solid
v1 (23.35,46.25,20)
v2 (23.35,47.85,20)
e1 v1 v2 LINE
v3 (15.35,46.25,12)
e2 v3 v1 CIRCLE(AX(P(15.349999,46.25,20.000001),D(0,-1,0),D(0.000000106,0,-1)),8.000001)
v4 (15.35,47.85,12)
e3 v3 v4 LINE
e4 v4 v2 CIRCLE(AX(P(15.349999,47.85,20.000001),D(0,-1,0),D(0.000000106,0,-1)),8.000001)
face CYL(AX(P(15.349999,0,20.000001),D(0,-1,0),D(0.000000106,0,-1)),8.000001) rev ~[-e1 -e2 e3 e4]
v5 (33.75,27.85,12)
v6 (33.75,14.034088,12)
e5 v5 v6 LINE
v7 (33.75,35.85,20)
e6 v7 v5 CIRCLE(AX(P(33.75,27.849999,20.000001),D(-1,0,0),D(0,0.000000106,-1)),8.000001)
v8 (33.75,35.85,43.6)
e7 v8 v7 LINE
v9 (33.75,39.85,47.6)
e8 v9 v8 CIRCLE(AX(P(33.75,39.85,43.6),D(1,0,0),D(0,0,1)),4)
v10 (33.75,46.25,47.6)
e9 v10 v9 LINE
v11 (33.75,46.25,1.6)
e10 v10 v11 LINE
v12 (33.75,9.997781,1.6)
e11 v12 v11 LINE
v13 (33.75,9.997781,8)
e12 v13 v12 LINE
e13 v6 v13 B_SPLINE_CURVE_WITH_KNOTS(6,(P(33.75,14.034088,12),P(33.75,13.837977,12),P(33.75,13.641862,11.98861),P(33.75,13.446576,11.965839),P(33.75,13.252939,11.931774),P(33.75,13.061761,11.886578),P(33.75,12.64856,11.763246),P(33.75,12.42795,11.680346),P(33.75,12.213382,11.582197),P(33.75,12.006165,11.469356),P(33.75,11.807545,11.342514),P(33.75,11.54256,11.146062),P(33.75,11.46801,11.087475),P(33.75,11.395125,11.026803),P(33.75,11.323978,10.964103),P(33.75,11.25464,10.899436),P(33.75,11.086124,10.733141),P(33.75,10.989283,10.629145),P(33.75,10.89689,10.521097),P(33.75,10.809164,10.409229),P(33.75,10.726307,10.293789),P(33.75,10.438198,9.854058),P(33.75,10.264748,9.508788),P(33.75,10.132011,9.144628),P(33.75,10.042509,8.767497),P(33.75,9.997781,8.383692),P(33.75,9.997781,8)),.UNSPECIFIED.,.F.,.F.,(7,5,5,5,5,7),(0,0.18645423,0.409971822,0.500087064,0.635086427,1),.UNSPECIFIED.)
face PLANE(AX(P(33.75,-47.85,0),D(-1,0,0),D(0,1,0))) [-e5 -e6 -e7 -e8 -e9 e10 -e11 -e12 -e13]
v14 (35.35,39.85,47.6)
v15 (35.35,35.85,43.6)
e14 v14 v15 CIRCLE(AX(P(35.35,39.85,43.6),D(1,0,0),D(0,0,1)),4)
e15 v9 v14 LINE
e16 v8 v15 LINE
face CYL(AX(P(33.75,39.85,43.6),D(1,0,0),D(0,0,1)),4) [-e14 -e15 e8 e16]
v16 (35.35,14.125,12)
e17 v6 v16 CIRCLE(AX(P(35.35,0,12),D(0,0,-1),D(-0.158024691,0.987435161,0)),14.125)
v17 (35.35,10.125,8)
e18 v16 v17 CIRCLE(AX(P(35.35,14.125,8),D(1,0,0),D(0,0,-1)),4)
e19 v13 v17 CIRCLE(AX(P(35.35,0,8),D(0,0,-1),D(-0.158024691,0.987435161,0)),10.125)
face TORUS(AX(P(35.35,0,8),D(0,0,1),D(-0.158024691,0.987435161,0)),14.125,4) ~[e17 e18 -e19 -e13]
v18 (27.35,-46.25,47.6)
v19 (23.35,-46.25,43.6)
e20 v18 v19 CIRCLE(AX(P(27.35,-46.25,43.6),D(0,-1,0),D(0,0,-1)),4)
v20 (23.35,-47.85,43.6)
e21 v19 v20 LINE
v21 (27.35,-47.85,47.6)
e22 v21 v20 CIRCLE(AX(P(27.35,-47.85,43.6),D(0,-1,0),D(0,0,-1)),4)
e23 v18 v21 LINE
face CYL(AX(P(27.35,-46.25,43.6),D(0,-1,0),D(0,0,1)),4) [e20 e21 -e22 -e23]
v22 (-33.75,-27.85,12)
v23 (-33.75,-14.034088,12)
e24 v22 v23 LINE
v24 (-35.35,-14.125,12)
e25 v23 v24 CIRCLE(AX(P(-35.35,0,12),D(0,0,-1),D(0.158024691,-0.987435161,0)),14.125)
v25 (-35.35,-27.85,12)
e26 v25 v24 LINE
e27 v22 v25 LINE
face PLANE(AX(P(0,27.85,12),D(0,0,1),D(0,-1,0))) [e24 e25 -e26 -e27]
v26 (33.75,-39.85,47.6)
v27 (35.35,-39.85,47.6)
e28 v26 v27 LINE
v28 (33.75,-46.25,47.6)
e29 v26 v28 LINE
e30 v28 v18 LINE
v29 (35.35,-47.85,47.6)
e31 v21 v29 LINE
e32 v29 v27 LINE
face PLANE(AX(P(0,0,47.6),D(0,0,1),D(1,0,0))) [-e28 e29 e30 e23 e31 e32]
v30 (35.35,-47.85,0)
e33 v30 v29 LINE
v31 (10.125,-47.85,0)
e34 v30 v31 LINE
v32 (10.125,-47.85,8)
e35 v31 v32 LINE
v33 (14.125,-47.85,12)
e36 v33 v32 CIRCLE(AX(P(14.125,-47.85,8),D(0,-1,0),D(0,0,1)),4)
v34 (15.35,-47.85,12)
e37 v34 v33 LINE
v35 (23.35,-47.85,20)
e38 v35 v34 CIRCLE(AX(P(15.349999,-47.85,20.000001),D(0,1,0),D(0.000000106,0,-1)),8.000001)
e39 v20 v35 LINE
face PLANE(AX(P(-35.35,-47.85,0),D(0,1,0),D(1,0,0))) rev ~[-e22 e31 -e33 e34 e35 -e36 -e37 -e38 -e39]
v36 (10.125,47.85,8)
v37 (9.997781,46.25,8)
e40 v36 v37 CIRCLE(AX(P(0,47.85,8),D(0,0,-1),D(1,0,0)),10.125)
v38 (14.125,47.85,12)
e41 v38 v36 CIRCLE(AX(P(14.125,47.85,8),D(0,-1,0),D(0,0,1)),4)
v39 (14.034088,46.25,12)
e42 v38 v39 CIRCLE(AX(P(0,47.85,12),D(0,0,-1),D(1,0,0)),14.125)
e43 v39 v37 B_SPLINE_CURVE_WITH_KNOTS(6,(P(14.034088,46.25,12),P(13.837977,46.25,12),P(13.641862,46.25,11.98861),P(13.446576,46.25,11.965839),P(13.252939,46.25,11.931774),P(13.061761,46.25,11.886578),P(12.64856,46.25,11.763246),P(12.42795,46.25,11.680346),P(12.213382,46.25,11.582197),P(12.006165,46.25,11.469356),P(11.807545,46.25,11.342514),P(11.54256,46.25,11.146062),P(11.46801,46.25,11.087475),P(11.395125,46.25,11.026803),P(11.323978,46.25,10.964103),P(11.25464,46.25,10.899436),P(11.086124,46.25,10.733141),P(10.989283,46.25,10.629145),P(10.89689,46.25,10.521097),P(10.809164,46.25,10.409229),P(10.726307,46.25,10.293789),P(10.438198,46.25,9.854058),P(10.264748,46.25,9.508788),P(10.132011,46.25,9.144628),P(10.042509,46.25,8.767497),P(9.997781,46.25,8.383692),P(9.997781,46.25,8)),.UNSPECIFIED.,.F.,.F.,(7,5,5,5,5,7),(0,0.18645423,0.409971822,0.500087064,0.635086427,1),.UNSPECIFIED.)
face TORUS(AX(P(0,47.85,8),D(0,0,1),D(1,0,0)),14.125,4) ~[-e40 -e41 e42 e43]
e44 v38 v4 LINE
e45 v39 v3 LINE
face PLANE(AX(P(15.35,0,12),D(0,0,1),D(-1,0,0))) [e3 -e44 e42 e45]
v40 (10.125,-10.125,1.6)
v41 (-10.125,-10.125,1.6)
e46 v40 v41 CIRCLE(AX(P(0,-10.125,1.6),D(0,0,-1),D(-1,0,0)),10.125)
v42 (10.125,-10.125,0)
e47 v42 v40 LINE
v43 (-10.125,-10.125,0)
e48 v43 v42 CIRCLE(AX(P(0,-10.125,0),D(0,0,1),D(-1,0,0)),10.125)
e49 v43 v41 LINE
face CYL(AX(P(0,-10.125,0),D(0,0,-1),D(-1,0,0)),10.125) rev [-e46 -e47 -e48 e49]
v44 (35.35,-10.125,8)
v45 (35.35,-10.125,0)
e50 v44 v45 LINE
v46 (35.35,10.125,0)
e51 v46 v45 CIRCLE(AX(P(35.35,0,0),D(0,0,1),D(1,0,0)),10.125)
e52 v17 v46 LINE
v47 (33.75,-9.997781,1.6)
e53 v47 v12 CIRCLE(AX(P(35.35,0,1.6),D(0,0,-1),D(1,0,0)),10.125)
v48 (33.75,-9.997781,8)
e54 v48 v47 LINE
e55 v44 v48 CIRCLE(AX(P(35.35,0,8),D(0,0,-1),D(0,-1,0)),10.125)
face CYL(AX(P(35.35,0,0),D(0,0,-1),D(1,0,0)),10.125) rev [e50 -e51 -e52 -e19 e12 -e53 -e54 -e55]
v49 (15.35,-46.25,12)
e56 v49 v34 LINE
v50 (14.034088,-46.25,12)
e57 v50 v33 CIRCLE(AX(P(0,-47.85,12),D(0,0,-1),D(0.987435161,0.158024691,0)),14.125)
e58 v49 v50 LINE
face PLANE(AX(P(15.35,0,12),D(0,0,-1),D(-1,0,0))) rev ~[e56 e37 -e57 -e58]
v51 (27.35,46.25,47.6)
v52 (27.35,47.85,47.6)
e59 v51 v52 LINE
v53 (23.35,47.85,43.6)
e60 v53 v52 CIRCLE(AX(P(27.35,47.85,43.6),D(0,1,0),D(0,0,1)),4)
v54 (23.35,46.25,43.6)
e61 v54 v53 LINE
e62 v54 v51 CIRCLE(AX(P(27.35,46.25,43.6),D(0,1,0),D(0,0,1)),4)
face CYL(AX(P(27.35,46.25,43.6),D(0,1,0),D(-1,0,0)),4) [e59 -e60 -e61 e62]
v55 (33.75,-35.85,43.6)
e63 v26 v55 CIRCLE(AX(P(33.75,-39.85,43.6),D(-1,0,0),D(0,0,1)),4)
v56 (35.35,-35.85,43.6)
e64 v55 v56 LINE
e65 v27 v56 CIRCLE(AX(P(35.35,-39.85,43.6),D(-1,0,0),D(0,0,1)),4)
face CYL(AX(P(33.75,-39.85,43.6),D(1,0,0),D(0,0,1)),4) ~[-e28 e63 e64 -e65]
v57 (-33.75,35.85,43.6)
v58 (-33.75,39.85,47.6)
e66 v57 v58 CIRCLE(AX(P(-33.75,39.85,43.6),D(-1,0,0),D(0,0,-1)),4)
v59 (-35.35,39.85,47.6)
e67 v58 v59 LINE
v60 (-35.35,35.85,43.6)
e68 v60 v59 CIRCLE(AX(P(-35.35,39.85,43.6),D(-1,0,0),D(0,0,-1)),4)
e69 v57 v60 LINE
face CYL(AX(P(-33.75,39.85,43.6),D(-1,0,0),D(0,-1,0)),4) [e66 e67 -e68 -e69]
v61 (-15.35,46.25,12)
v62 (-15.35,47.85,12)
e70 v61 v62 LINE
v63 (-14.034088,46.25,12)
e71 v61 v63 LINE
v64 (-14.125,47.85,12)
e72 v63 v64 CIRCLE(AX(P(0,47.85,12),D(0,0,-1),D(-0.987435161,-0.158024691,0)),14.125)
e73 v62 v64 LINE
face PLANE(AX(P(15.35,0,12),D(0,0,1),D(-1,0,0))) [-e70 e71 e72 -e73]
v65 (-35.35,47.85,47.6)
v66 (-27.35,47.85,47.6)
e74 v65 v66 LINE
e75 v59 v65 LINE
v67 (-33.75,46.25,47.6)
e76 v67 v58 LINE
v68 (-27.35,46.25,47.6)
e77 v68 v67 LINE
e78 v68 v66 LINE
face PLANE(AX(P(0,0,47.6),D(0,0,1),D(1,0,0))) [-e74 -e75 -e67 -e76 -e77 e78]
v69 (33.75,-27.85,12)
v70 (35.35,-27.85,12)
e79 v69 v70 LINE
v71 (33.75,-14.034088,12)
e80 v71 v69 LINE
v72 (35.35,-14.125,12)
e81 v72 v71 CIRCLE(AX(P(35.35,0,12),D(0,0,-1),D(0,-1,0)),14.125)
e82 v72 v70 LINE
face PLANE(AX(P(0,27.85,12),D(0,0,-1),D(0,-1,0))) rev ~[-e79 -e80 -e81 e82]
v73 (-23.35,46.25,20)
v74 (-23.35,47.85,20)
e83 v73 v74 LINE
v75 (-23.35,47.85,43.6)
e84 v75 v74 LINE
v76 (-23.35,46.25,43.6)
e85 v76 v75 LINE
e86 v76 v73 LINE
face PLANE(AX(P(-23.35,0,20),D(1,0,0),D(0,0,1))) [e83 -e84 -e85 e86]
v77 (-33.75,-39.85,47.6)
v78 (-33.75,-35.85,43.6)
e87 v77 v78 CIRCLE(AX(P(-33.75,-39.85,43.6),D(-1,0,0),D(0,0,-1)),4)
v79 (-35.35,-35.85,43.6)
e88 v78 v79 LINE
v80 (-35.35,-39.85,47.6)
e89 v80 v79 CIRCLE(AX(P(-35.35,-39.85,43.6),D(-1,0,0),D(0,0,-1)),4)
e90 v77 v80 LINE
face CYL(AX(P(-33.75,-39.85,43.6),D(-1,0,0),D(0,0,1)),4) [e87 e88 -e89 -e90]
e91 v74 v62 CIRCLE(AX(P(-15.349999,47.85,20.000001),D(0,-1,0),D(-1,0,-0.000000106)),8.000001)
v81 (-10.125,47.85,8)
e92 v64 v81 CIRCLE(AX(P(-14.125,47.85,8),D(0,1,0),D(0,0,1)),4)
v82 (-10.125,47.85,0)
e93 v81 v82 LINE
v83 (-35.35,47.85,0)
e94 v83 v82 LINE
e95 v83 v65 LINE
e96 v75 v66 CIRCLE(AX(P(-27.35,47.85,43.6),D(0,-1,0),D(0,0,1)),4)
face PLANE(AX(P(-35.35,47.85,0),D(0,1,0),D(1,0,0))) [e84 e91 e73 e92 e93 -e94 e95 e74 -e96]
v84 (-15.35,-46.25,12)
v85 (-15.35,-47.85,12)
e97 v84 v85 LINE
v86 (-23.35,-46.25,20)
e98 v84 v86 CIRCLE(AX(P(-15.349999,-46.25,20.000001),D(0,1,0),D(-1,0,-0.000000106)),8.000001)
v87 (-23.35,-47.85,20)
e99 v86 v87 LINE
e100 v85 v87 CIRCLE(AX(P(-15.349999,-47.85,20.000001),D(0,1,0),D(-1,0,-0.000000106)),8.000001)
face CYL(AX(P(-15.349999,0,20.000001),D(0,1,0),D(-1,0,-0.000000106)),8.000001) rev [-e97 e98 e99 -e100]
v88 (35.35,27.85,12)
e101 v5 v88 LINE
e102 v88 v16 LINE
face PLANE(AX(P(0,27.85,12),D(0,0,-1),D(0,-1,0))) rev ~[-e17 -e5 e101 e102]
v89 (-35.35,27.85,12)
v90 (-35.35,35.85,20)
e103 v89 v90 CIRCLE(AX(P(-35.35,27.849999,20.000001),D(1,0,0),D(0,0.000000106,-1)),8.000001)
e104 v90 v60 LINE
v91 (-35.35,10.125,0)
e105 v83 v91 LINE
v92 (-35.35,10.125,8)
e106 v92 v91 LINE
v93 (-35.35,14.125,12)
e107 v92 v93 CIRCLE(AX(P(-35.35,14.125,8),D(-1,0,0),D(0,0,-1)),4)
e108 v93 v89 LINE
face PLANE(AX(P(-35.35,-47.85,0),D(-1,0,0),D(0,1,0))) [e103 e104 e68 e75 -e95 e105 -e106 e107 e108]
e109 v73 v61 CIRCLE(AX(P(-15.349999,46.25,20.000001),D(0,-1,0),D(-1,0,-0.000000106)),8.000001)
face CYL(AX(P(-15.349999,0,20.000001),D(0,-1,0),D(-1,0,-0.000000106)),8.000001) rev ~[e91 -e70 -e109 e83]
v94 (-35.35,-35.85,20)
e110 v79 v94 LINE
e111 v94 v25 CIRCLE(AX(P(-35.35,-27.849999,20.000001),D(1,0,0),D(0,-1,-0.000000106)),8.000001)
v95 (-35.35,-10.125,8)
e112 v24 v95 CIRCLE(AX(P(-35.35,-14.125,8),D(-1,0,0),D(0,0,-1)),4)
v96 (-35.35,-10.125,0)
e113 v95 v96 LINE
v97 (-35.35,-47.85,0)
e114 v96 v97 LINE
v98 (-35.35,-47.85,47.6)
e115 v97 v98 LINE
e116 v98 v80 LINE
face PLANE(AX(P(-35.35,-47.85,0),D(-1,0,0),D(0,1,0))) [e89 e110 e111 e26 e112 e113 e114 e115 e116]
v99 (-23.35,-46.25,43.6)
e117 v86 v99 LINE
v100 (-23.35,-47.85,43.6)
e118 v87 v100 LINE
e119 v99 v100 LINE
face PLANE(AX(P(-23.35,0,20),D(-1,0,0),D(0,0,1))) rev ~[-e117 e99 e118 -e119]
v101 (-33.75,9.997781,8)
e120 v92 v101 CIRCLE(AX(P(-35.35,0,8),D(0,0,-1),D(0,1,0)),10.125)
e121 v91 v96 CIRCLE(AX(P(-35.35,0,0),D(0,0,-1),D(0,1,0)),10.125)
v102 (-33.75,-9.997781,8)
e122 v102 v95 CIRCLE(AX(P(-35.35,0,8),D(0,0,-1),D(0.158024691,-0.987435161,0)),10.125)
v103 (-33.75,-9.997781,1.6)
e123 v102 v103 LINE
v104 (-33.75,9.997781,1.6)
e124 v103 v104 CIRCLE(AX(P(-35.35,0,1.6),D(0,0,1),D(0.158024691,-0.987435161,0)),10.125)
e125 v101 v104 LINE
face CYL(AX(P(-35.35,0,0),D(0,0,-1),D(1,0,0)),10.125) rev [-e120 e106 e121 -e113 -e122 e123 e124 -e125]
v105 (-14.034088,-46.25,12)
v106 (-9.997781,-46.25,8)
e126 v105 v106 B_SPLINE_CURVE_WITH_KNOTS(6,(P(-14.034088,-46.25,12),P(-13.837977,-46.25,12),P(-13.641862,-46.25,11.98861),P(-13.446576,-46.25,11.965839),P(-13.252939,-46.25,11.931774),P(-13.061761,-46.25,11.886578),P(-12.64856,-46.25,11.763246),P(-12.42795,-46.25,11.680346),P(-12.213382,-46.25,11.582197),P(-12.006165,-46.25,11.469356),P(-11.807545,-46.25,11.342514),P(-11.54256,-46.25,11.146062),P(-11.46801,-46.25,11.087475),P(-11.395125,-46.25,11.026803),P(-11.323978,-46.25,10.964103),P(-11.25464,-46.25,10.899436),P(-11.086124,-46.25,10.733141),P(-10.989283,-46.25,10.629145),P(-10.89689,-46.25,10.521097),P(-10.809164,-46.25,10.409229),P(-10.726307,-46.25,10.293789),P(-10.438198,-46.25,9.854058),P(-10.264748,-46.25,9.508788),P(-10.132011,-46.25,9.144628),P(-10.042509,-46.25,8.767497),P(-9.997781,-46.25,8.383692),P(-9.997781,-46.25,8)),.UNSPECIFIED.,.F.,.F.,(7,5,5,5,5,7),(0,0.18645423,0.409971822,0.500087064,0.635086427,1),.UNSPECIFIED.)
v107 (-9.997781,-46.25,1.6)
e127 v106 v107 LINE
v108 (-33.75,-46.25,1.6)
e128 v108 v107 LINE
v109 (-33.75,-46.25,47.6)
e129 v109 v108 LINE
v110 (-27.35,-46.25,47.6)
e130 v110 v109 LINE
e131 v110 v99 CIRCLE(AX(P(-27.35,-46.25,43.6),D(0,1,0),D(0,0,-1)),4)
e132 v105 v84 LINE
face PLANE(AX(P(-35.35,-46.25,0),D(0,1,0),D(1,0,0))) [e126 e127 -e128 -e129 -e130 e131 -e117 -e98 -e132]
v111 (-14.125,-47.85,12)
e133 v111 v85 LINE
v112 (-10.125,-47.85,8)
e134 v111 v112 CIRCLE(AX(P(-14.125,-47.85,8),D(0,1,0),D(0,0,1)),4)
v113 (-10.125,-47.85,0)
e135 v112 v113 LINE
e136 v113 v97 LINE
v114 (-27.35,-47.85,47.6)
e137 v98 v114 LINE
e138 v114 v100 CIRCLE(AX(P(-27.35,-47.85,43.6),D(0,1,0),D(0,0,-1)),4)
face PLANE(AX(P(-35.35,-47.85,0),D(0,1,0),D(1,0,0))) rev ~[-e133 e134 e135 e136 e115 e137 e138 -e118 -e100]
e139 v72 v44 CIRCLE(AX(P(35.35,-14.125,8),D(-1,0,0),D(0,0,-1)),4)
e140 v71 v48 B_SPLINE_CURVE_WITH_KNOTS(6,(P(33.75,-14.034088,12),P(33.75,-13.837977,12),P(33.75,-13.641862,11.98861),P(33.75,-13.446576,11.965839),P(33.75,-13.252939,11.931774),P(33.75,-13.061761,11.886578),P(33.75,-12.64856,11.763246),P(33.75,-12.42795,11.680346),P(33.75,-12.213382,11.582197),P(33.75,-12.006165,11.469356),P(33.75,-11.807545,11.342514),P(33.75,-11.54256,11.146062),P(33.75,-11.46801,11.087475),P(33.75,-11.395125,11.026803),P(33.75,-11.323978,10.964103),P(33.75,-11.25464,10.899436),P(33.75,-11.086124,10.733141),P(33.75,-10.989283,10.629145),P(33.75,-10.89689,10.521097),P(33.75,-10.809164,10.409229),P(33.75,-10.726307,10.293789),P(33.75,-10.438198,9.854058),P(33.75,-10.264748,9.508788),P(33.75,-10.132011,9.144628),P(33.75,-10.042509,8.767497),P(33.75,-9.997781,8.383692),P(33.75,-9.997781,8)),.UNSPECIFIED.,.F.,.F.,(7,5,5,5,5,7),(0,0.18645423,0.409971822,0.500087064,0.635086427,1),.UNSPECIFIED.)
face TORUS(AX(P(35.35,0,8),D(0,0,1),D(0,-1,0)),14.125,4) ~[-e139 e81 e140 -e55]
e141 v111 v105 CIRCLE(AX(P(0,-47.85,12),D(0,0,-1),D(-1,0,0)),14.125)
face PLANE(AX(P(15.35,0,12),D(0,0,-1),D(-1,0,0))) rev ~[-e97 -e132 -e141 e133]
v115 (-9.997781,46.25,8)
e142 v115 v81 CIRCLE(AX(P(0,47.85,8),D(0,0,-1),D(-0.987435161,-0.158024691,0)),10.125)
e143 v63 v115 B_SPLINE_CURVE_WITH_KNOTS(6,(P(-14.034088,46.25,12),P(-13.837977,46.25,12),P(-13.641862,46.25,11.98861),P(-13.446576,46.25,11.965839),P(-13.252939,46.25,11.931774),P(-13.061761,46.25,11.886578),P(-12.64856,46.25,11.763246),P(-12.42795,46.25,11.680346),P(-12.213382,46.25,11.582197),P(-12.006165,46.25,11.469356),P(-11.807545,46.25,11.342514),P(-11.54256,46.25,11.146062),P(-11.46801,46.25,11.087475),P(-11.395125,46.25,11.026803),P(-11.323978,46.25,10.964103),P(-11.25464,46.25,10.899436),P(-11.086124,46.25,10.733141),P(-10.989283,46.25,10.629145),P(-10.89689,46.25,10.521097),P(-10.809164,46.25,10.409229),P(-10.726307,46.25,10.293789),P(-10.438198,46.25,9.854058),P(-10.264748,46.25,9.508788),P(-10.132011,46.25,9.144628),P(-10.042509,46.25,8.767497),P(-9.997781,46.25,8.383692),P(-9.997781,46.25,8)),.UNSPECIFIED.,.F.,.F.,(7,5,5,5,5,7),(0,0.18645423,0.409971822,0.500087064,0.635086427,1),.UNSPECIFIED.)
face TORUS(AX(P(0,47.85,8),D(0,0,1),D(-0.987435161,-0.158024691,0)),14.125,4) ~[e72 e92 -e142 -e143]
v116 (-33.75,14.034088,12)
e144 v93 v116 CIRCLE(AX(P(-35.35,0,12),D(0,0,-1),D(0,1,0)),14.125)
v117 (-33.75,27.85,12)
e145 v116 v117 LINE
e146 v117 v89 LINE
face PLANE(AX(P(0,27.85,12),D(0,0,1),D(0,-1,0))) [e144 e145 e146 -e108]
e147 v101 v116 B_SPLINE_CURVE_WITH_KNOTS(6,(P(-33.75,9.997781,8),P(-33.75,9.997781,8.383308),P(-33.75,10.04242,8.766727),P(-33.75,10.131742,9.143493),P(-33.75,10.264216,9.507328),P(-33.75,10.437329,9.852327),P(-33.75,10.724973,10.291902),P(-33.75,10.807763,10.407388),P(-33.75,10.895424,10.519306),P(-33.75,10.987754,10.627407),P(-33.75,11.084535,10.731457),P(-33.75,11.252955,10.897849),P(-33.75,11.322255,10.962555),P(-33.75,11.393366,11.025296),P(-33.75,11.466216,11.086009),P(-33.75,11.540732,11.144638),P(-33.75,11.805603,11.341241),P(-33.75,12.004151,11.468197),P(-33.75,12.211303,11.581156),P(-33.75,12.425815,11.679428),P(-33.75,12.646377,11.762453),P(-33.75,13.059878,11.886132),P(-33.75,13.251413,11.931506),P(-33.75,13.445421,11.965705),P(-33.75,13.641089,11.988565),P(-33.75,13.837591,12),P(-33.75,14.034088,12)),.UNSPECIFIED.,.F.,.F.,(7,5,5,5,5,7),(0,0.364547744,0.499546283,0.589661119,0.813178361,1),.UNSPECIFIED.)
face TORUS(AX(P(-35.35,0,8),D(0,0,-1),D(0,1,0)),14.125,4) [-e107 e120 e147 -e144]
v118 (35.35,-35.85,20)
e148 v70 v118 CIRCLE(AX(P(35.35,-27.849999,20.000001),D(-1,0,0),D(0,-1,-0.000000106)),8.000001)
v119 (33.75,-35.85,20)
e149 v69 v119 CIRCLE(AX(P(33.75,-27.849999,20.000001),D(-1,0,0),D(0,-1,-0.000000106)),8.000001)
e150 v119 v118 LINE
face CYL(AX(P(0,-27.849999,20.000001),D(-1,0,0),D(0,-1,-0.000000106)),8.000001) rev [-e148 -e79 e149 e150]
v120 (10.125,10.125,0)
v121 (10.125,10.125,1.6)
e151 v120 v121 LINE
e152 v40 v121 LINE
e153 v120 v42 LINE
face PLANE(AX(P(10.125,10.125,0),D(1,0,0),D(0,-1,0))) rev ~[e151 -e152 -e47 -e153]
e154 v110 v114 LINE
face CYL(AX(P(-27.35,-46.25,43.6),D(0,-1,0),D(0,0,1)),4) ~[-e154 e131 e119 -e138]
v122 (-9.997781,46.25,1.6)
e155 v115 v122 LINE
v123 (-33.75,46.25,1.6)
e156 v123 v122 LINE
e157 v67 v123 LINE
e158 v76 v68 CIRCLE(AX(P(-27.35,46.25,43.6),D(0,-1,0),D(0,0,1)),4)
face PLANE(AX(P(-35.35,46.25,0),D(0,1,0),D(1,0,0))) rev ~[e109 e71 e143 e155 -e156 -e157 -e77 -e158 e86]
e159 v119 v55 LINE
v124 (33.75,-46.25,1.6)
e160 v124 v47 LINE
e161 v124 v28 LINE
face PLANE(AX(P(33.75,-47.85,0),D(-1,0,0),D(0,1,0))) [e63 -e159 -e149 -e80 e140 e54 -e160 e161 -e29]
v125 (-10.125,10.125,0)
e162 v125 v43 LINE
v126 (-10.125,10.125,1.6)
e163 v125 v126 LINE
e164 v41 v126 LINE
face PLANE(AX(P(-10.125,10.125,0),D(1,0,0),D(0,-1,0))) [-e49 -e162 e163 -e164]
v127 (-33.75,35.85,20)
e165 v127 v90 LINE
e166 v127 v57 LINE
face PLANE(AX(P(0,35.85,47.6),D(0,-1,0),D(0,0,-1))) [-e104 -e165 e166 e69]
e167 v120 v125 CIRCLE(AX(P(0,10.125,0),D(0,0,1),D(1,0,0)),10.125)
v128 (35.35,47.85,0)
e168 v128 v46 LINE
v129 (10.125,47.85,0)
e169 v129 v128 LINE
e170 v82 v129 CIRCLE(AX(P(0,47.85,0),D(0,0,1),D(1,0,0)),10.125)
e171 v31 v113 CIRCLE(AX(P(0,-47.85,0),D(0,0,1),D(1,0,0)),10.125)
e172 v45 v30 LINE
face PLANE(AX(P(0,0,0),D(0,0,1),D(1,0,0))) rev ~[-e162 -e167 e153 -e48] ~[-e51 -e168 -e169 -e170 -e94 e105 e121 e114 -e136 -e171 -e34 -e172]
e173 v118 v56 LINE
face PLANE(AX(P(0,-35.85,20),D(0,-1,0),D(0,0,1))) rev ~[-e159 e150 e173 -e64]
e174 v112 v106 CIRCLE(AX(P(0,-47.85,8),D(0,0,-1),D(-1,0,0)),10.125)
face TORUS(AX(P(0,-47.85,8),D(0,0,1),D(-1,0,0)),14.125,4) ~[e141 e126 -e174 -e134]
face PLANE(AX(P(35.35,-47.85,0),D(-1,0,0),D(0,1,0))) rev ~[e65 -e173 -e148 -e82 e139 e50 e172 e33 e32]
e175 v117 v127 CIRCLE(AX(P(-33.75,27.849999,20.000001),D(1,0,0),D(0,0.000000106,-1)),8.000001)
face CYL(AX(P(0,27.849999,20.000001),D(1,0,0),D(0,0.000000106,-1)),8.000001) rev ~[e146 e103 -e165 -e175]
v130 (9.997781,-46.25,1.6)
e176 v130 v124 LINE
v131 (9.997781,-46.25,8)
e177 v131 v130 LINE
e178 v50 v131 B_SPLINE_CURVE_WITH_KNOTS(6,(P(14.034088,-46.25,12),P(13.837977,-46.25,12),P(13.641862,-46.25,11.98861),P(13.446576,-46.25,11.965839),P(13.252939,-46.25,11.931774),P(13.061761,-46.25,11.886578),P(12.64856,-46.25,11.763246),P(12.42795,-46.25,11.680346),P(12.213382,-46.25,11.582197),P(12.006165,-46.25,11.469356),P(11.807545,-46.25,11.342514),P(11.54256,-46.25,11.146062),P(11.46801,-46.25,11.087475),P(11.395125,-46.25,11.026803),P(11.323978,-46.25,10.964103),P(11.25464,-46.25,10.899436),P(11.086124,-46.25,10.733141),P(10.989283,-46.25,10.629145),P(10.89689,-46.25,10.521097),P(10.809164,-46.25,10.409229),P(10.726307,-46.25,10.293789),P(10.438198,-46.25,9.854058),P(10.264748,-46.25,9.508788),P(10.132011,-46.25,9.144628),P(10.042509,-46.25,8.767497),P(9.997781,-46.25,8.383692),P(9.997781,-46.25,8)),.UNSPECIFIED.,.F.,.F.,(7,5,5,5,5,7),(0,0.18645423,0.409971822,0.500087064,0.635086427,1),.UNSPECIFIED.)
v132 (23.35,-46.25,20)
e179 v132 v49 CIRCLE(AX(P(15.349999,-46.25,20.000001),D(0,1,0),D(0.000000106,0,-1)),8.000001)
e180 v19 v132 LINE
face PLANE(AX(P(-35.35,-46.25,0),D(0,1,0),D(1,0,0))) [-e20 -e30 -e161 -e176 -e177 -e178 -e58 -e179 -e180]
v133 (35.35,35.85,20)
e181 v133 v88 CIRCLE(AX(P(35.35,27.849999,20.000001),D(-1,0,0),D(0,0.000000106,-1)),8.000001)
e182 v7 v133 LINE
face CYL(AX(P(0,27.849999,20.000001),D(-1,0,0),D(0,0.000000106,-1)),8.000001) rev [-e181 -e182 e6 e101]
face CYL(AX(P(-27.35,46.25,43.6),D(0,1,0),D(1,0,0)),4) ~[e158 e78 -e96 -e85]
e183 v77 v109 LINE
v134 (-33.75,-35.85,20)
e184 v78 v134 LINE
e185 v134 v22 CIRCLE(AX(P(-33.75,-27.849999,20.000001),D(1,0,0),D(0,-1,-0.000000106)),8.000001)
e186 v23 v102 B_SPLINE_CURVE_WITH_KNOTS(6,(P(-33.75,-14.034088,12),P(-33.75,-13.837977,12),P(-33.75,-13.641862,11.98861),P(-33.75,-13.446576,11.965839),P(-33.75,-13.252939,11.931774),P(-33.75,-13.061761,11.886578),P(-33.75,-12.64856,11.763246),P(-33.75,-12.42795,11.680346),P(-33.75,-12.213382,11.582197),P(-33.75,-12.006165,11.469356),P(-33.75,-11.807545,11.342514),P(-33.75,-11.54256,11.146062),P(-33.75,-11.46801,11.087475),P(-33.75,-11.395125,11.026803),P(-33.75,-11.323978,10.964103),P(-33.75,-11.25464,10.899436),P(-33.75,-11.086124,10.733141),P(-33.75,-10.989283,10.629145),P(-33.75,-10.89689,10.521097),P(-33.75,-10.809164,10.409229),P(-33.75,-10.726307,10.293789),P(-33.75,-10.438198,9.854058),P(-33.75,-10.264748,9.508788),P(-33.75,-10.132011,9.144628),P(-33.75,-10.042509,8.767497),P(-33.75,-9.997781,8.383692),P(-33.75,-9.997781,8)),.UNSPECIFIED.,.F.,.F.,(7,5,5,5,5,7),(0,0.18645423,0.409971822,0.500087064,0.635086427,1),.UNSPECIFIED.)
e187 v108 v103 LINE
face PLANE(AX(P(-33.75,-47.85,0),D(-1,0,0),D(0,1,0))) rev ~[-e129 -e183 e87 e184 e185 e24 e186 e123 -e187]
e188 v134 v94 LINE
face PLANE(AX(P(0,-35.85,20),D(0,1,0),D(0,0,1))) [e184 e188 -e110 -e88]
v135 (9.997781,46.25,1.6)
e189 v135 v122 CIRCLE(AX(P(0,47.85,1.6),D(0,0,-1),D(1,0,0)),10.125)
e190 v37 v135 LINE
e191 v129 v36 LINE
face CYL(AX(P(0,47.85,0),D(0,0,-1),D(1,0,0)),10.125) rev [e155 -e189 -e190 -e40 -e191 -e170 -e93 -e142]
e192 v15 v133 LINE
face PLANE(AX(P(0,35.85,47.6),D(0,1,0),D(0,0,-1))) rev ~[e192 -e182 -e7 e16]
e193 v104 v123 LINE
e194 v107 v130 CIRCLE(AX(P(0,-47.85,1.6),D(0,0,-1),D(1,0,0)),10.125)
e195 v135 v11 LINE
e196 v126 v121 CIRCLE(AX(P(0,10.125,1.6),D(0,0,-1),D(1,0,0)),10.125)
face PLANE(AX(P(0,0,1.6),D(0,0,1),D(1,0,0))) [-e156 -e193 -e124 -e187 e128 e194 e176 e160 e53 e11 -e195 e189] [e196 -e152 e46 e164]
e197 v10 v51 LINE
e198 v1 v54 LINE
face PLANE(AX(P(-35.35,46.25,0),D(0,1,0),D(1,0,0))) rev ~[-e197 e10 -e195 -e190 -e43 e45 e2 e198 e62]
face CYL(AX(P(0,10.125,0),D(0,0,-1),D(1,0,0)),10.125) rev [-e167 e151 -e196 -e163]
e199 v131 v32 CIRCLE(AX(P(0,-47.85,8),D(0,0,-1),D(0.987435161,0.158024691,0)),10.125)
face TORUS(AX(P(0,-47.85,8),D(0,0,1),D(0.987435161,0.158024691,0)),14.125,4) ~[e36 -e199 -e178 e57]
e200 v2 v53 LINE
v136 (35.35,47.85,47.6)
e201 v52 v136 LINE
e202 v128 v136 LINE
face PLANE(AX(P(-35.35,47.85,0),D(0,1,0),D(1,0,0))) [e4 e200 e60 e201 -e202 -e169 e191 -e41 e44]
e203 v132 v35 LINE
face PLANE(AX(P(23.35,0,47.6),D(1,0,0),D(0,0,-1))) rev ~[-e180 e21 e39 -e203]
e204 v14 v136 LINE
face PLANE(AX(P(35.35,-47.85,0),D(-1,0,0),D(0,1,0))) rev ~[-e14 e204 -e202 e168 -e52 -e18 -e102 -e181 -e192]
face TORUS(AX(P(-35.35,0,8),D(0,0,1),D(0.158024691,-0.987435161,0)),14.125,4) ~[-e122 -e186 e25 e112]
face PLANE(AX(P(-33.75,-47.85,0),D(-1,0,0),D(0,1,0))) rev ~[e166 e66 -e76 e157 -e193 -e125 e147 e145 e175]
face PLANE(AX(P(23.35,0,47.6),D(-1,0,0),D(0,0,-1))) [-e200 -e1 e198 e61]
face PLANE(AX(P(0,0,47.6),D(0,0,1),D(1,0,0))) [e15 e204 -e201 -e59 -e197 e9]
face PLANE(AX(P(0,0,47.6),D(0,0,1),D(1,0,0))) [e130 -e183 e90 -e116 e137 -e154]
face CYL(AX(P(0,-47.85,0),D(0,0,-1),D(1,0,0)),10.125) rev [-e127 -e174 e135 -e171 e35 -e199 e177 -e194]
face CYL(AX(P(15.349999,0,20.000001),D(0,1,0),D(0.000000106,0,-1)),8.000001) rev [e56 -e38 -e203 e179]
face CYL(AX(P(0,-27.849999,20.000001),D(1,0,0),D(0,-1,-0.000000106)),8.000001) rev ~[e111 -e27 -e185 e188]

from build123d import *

# Parameters (mm, degrees)
SKETCH001_W          = 70.7
SKETCH001_H          = 95.7
PAD001_DEPTH         = 47.6
THICKNESS001_T       = -1.6
POCKET_DEPTH         = 47.851
POCKET_DEPTH_BACK    = 47.851
POCKET001_DEPTH      = 35.351
POCKET001_DEPTH_BACK = 35.351
SKETCH004_R          = 10.125
POCKET002_DEPTH      = 0.001
POCKET002_DEPTH_BACK = 47.601
FILLET_R             = 4


with BuildPart() as part:
    # Sketch001 → Pad001 (new body)
    with BuildSketch(Plane.XY):
        Rectangle(SKETCH001_W, SKETCH001_H)
    extrude(amount=PAD001_DEPTH)

    # Thickness001
    thickness001_openings = [part.faces().sort_by_distance(p)[0] for p in [
        (0, 0, 47.6),
    ]]
    offset(amount=THICKNESS001_T, openings=thickness001_openings, kind=Kind.INTERSECTION)

    # Sketch002 → Pocket (cut, two sides)
    with BuildSketch(Plane.XZ) as pocket_sk:
        with BuildLine():
            Line((-23.35, 47.6), (23.35, 47.6))
            Line((23.35, 47.6), (23.35, 20))
            ThreePointArc((15.35, 12), (21.006854, 14.343146), (23.35, 20))
            Line((15.35, 12), (-15.35, 12))
            ThreePointArc((-23.35, 20), (-21.006854, 14.343146), (-15.35, 12))
            Line((-23.35, 20), (-23.35, 47.6))
        make_face()
    extrude(amount=-POCKET_DEPTH, mode=Mode.SUBTRACT)
    extrude(pocket_sk.sketch, amount=POCKET_DEPTH_BACK, mode=Mode.SUBTRACT)

    # Sketch003 → Pocket001 (cut, two sides)
    with BuildSketch(Plane.YZ) as pocket001_sk:
        with BuildLine():
            Line((-35.85, 47.6), (35.85, 47.6))
            Line((35.85, 47.6), (35.85, 20))
            ThreePointArc((27.85, 12), (33.506854, 14.343146), (35.85, 20))
            Line((27.85, 12), (-27.85, 12))
            ThreePointArc((-35.85, 20), (-33.506854, 14.343146), (-27.85, 12))
            Line((-35.85, 20), (-35.85, 47.6))
        make_face()
    extrude(amount=-POCKET001_DEPTH, mode=Mode.SUBTRACT)
    extrude(pocket001_sk.sketch, amount=POCKET001_DEPTH_BACK, mode=Mode.SUBTRACT)

    # Sketch004 → Pocket002 (cut, two sides)
    with BuildSketch(Plane.XY) as pocket002_sk:
        with Locations((0, 47.85)):
            Circle(SKETCH004_R)
        with Locations((0, -47.85)):
            Circle(SKETCH004_R)
        with Locations((35.35, 0)):
            Circle(SKETCH004_R)
        with Locations((-35.35, 0)):
            Circle(SKETCH004_R)
        with BuildLine():
            ThreePointArc((10.125, 10.125), (0, 20.25), (-10.125, 10.125))
            Line((-10.125, 10.125), (-10.125, -10.125))
            ThreePointArc((-10.125, -10.125), (0, -20.25), (10.125, -10.125))
            Line((10.125, 10.125), (10.125, -10.125))
        make_face()
    extrude(amount=-POCKET002_DEPTH, mode=Mode.SUBTRACT)
    extrude(pocket002_sk.sketch, amount=POCKET002_DEPTH_BACK, mode=Mode.SUBTRACT)

    # Fillet
    fillet_edges = [part.edges().sort_by_distance(p)[0] for p in [
        (34.547475, -10.093145, 12),
        (34.547475, 10.093145, 12),
        (34.55, 35.85, 47.6),
        (23.35, 47.05, 47.6),
        (10.093145, 47.047475, 12),
        (-10.093145, 47.047475, 12),
        (-23.35, 47.05, 47.6),
        (-34.55, 35.85, 47.6),
        (-34.547475, 10.093145, 12),
        (-34.547475, -10.093145, 12),
        (-34.55, -35.85, 47.6),
        (-23.35, -47.05, 47.6),
        (-10.093145, -47.047475, 12),
        (10.093145, -47.047475, 12),
        (23.35, -47.05, 47.6),
        (34.55, -35.85, 47.6),
    ]]
    fillet(fillet_edges, radius=FILLET_R)


solid = part.part
